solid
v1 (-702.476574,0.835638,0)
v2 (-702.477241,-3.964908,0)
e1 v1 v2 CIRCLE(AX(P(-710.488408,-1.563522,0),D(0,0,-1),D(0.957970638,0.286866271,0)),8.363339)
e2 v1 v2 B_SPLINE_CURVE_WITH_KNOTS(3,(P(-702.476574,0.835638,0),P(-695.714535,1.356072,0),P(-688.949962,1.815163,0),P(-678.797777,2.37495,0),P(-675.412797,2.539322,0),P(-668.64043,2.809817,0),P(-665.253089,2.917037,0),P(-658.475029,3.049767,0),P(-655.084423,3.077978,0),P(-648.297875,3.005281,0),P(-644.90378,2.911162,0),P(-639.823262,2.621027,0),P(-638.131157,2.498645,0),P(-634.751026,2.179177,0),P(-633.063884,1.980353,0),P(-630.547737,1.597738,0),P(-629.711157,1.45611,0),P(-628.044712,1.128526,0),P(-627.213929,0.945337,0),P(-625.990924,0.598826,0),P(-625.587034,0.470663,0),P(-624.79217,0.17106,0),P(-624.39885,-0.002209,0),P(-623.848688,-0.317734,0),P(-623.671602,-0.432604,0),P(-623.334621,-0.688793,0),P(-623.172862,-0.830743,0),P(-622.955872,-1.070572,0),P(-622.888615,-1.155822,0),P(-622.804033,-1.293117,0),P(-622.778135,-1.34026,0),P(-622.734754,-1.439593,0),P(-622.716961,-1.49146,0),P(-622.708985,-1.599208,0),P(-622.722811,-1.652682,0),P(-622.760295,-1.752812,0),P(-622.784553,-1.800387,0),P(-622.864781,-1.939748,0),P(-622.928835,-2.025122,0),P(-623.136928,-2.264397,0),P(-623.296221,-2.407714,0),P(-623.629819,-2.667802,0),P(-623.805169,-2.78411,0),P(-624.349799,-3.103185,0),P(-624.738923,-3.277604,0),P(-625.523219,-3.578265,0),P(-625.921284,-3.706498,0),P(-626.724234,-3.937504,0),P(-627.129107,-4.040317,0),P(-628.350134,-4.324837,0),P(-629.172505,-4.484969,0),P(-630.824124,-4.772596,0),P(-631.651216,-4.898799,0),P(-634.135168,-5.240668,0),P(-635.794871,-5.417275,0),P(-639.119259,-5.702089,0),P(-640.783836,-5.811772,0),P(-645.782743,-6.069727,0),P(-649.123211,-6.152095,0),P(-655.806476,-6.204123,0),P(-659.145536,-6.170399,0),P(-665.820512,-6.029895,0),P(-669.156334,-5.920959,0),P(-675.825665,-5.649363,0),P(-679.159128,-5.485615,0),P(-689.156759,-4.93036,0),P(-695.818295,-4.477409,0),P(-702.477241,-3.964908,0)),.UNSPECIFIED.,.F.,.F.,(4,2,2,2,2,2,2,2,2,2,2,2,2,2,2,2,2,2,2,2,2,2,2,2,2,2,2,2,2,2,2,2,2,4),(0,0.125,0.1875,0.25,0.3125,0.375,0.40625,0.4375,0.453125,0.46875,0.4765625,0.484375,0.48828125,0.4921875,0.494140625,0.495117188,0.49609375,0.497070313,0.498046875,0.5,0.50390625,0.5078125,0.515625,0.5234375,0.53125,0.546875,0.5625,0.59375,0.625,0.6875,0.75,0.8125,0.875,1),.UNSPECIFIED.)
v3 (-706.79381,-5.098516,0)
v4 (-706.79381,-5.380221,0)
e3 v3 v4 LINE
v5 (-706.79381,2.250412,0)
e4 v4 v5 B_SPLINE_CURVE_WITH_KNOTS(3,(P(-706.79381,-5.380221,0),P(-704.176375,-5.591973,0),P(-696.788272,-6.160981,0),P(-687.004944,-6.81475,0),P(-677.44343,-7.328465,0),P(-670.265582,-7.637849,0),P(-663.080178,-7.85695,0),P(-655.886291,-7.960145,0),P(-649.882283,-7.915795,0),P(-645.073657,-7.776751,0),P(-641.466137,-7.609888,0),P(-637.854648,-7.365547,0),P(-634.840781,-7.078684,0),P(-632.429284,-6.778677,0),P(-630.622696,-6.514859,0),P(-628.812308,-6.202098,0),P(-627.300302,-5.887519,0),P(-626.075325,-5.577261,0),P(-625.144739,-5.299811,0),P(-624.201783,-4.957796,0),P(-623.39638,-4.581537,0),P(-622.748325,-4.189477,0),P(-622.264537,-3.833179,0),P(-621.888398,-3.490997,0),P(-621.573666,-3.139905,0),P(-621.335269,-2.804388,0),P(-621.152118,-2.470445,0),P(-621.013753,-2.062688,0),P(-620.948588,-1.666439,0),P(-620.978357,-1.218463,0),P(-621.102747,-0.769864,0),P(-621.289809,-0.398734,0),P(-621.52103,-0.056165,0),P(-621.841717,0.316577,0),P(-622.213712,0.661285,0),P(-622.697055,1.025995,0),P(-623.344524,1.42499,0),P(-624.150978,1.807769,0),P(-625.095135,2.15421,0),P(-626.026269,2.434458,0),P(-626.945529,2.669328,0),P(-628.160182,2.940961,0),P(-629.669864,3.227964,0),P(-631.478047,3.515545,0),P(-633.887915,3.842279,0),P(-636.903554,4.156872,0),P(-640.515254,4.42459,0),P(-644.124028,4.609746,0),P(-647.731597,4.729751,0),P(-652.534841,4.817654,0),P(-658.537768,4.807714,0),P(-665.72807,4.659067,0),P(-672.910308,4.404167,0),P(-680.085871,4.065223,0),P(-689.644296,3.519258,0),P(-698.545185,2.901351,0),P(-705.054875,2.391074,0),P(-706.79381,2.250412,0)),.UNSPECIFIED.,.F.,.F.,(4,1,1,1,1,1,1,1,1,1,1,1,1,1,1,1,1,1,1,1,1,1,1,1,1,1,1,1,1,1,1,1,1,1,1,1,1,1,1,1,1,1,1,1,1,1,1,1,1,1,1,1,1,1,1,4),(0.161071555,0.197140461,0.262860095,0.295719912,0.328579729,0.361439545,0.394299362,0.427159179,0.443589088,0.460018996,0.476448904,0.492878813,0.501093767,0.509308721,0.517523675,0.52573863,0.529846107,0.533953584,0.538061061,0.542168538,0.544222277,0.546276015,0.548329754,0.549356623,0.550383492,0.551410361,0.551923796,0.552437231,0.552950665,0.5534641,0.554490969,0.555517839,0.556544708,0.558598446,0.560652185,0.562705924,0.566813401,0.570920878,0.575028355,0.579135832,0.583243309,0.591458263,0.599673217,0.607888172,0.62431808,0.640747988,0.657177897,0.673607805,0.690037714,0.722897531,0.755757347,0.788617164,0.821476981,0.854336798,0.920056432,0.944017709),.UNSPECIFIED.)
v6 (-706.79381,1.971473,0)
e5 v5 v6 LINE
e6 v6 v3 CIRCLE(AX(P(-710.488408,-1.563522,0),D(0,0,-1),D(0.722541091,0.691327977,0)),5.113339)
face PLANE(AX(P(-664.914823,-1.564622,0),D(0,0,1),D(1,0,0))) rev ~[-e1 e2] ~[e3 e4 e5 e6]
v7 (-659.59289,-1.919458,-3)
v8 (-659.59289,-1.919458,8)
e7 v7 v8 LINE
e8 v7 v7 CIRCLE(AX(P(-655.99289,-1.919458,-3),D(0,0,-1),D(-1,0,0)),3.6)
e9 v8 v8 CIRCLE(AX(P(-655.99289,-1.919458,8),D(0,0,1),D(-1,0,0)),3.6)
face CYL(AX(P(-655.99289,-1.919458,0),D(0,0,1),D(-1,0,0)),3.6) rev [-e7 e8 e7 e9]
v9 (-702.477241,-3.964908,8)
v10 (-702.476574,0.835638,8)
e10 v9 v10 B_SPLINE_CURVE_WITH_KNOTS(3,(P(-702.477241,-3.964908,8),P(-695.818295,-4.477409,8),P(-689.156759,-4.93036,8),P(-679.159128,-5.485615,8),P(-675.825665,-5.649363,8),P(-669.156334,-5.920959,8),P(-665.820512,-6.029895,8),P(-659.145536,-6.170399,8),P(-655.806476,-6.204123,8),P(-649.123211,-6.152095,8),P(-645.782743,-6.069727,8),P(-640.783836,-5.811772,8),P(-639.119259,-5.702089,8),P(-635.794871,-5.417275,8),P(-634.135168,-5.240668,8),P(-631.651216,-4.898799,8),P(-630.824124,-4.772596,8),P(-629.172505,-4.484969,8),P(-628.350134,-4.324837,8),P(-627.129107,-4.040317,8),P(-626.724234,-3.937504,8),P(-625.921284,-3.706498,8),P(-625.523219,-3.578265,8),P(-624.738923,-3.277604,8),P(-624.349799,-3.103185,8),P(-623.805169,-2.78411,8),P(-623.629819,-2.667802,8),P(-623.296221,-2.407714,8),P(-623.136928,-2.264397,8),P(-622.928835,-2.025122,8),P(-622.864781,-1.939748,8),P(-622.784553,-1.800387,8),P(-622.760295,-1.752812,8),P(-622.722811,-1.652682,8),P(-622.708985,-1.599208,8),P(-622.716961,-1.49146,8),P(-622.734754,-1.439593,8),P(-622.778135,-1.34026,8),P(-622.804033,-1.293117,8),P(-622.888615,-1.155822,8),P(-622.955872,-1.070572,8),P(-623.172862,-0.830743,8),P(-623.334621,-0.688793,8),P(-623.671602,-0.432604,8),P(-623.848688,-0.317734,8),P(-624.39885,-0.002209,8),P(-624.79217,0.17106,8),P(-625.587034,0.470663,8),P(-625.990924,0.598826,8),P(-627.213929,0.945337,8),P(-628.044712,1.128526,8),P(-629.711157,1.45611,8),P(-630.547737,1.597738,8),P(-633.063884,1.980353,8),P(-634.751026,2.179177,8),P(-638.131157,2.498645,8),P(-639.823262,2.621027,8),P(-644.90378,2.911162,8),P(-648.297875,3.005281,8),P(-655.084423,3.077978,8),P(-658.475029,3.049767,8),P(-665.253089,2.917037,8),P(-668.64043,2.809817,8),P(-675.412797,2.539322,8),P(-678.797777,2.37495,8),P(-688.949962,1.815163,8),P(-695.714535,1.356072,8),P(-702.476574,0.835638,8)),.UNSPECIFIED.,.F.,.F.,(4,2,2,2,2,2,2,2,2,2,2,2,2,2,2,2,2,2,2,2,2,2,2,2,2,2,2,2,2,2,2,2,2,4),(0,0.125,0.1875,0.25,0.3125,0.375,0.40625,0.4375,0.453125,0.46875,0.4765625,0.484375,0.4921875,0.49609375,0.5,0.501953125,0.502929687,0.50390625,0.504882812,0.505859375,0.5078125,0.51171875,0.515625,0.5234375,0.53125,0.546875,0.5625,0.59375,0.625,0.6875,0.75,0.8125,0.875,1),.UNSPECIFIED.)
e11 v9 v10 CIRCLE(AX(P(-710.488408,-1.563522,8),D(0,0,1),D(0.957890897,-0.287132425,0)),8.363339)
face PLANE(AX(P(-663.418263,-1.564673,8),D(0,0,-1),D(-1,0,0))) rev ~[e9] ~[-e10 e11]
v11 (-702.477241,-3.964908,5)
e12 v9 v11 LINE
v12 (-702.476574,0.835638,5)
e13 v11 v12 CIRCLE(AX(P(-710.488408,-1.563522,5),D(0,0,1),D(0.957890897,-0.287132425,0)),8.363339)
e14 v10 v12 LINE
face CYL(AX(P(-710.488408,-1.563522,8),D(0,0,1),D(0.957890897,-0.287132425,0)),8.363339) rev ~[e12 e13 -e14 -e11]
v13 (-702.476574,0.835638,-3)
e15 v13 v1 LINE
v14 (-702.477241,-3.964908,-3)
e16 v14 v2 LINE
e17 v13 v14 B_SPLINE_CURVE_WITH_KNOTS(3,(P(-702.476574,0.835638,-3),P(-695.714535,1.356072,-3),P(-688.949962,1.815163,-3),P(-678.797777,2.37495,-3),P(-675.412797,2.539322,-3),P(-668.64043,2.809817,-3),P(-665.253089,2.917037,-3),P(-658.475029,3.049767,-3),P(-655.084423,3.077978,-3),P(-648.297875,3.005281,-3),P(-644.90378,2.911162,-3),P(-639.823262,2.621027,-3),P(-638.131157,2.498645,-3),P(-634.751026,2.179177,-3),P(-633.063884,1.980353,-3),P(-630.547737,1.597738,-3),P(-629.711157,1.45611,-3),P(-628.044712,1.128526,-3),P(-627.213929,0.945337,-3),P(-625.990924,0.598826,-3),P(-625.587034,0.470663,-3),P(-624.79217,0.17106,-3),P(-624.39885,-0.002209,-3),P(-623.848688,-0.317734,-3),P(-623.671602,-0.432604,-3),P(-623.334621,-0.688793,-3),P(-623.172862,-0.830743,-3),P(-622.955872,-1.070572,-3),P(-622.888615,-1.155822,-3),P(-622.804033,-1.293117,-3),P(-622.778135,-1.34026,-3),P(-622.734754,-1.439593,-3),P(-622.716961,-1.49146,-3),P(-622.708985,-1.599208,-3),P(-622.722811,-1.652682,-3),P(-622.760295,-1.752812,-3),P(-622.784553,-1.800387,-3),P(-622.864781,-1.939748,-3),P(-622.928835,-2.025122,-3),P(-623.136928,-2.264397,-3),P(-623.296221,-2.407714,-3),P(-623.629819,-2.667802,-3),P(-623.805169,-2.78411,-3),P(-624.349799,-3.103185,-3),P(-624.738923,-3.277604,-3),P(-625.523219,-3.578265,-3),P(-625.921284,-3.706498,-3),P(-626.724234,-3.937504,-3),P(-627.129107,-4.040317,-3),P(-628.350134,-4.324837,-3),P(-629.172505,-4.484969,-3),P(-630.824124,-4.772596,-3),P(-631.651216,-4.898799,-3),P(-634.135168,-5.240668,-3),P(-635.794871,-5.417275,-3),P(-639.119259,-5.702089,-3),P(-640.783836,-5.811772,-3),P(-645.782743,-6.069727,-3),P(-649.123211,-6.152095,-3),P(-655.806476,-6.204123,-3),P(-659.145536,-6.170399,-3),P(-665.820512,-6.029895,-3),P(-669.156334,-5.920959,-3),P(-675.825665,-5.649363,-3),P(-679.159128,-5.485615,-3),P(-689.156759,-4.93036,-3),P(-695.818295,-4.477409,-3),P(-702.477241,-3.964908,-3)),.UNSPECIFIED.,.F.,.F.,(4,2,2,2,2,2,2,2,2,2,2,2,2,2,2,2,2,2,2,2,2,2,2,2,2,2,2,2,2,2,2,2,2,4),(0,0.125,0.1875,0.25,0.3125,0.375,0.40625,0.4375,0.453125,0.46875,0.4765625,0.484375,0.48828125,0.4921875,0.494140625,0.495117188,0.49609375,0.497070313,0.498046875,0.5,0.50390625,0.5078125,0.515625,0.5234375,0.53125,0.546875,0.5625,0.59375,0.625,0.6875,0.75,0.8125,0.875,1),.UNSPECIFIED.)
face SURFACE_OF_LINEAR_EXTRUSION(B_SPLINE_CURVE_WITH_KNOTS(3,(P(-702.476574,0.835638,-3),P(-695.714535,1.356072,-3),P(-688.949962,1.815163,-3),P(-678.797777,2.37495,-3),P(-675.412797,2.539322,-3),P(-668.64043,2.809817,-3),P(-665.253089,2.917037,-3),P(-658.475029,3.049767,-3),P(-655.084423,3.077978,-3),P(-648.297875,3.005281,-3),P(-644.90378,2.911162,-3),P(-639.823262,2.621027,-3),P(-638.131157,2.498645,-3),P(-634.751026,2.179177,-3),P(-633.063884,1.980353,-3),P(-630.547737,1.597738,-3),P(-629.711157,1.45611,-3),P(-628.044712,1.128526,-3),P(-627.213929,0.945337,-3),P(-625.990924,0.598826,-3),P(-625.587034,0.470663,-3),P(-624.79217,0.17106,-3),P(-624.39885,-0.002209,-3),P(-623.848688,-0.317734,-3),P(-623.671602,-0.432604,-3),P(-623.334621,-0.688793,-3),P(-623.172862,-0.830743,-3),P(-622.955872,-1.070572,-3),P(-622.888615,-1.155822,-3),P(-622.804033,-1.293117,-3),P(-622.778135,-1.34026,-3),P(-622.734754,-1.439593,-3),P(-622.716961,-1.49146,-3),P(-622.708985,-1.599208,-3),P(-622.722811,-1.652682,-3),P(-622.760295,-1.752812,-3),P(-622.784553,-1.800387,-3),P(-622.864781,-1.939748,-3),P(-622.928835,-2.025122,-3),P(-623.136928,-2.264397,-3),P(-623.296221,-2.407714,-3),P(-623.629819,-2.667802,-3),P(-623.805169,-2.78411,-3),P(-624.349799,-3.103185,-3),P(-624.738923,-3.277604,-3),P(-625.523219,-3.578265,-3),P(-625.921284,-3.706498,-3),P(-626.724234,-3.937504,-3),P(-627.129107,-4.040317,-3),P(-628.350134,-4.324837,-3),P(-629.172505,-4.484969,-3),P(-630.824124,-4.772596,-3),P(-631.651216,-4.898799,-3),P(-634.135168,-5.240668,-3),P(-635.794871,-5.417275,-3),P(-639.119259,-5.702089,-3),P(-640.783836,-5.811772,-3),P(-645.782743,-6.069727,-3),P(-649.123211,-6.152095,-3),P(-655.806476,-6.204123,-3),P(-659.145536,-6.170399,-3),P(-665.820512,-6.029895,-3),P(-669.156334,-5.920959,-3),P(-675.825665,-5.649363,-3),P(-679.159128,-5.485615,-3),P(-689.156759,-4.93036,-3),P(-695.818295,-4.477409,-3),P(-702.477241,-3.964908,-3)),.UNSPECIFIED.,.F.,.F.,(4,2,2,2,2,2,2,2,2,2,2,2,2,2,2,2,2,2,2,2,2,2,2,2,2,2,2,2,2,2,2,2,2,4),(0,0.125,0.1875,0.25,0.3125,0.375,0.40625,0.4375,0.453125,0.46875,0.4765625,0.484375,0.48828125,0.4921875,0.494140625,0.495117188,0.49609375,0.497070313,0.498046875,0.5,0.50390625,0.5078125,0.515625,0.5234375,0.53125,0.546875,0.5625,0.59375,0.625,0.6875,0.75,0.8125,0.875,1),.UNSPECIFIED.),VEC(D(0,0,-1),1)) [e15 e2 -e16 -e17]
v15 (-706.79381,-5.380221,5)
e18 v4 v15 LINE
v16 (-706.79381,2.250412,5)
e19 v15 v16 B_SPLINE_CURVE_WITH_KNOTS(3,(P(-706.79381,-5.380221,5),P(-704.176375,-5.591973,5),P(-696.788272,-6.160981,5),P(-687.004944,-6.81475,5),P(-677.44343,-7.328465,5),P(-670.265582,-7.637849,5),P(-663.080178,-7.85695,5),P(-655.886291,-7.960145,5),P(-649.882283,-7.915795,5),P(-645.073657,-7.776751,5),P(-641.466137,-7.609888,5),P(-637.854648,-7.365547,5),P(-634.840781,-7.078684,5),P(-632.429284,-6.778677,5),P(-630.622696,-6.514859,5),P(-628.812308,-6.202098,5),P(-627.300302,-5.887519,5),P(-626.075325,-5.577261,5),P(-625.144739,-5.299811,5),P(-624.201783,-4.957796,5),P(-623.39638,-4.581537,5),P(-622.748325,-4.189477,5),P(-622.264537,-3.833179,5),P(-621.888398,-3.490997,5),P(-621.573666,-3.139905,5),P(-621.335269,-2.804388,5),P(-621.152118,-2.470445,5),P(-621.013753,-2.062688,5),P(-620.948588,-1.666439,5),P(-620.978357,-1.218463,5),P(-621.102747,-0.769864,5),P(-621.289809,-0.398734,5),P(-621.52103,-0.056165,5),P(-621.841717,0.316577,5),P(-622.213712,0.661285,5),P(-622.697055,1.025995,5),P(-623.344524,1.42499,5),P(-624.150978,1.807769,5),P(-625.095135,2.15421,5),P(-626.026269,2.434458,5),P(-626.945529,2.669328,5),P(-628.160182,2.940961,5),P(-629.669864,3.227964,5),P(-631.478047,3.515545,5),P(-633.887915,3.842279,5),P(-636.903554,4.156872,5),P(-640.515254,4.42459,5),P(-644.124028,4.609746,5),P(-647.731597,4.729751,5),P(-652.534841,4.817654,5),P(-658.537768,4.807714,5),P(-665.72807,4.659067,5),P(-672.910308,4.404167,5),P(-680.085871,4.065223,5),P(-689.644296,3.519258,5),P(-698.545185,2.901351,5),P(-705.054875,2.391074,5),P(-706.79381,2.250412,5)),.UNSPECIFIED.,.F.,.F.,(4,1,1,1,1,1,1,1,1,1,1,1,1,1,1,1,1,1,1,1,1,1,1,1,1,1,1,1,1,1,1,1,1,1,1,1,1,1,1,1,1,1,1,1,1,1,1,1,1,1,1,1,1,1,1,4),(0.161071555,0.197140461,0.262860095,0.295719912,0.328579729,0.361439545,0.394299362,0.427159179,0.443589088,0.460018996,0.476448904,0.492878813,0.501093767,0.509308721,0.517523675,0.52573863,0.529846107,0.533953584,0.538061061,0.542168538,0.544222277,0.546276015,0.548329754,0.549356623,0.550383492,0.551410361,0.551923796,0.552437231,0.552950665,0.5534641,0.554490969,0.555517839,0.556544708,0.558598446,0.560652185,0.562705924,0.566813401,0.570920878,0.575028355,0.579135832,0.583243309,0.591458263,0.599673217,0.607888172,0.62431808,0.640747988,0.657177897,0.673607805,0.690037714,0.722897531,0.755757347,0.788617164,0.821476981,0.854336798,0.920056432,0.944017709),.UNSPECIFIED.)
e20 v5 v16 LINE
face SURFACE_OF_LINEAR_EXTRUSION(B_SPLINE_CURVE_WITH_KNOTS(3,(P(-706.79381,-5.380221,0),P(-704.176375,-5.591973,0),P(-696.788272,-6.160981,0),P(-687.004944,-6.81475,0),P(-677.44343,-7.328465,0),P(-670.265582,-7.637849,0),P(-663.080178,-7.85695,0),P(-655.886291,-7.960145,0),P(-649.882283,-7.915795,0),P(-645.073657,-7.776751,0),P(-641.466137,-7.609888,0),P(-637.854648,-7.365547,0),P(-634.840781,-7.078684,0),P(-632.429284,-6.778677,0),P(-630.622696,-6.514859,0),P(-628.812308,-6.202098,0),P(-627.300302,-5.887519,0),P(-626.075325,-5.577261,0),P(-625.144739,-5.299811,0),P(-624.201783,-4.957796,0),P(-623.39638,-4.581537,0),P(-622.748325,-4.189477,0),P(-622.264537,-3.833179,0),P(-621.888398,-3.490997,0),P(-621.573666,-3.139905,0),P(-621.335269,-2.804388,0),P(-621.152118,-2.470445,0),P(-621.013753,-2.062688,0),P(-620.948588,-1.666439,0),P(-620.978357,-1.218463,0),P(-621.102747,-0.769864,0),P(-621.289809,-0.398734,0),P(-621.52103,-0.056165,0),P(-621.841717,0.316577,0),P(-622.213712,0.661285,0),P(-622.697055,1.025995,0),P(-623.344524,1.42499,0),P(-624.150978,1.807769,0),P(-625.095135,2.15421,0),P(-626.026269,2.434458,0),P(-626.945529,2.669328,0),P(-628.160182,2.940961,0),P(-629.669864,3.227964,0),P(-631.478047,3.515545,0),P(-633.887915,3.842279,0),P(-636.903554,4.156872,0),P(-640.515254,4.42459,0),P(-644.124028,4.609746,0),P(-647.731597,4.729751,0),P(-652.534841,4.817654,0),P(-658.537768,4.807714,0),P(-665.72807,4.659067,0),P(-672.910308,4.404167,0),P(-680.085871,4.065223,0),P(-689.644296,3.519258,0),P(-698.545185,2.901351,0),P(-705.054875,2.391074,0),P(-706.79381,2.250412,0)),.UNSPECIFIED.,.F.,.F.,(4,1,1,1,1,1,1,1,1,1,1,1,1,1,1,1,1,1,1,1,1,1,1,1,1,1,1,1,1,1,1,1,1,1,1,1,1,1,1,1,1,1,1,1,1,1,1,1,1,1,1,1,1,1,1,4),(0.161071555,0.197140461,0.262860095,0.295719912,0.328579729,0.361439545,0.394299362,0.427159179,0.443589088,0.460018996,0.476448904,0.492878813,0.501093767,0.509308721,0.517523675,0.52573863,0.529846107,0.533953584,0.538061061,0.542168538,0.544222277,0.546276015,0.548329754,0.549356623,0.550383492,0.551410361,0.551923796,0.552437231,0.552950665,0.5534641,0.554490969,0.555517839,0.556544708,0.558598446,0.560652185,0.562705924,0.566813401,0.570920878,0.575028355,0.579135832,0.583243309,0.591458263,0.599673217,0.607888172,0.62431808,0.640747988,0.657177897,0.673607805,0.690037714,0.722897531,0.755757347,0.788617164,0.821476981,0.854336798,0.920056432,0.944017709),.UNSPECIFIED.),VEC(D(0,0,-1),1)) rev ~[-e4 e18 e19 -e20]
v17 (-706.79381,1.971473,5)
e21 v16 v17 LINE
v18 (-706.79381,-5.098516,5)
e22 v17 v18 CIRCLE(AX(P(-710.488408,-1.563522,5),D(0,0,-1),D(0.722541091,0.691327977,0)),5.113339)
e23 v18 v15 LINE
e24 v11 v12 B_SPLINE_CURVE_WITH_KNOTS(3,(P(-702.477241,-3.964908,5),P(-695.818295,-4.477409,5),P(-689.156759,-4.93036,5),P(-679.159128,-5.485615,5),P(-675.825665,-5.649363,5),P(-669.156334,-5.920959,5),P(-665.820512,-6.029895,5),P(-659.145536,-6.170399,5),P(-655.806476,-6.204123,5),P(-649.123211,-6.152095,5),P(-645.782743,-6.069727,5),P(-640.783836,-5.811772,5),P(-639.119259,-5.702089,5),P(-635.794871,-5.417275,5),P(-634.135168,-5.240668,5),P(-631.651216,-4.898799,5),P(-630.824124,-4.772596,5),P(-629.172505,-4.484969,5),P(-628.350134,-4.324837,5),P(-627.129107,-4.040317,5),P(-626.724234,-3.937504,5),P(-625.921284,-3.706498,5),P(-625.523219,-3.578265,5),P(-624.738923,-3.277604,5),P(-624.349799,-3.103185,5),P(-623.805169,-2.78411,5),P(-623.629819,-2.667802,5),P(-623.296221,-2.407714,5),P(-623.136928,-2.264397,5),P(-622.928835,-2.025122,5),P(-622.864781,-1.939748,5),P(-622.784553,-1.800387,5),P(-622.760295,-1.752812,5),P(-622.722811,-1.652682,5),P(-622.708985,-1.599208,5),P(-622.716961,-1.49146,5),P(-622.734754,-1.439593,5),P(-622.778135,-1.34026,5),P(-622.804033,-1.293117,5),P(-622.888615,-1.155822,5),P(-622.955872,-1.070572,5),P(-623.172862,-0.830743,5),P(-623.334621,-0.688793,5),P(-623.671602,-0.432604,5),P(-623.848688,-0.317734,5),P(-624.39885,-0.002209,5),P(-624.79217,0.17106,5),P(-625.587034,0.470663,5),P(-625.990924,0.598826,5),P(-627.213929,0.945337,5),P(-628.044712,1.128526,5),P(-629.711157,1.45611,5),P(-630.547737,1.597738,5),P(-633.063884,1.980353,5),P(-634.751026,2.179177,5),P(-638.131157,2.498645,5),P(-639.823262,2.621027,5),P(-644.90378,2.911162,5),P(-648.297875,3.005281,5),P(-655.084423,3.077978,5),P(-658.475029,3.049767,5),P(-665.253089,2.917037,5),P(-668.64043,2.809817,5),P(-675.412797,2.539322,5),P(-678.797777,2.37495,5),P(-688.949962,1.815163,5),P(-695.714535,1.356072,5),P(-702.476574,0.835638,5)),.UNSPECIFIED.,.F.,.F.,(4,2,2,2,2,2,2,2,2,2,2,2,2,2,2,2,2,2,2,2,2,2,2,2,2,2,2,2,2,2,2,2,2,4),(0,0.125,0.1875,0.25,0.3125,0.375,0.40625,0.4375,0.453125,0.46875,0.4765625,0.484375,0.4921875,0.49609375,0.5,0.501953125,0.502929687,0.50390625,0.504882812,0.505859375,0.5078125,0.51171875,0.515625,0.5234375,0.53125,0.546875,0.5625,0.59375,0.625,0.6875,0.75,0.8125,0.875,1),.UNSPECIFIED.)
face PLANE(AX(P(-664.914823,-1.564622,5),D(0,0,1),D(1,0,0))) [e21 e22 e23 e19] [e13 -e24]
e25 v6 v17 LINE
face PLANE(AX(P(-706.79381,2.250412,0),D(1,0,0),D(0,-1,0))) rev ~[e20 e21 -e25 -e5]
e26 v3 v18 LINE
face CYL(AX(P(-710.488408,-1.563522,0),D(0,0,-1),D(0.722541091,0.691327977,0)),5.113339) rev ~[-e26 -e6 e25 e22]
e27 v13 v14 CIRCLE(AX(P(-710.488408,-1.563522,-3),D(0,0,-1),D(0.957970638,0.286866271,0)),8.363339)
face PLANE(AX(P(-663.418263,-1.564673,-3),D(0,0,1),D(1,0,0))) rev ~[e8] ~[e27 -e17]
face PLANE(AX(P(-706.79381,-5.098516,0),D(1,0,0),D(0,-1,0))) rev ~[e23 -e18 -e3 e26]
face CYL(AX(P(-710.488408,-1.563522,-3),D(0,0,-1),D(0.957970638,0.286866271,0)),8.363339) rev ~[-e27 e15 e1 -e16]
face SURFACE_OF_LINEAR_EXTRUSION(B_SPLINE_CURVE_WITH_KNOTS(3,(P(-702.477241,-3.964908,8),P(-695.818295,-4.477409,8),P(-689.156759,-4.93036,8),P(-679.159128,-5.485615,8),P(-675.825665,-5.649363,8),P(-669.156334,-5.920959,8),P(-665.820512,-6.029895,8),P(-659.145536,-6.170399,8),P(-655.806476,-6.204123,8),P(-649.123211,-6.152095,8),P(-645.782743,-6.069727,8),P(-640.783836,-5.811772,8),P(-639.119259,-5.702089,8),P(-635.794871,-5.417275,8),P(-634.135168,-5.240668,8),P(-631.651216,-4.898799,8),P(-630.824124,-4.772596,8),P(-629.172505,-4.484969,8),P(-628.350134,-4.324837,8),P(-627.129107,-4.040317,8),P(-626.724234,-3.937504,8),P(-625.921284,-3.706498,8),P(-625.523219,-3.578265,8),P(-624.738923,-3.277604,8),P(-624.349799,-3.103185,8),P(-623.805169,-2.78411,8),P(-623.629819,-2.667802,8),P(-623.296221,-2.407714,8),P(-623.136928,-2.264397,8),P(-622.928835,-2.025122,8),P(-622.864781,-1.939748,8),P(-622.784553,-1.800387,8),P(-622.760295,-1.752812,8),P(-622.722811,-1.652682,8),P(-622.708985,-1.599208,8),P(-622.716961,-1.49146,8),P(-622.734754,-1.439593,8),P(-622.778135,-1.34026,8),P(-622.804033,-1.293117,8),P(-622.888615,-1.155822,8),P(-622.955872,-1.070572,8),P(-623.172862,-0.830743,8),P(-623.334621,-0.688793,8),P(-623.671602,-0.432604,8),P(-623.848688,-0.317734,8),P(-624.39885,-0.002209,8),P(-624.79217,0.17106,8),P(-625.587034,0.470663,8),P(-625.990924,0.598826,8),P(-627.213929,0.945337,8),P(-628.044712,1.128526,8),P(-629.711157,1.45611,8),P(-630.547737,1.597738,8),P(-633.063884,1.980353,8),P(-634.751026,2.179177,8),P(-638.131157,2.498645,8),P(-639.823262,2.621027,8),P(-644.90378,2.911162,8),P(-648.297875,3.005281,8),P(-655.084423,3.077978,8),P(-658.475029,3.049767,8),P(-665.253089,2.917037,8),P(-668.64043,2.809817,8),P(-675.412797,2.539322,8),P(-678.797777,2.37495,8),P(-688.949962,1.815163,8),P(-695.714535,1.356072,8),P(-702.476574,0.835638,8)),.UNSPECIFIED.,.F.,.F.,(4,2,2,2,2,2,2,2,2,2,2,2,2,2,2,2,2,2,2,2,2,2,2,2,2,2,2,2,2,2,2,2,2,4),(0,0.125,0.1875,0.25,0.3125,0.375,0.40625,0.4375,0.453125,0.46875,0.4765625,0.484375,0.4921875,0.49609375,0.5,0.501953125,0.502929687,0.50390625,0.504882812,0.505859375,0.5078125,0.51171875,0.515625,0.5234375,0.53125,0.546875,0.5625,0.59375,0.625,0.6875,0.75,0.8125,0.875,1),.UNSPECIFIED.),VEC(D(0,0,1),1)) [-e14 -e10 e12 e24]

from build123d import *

# Parameters (mm, degrees)
BOSS_EXTRUDE1_DEPTH = 5
SKETCH2_R           = 3.6
CUT_EXTRUDE1_DEPTH  = 5
SKETCH3_R           = 3.6
BOSS_EXTRUDE2_DEPTH = 3
SKETCH4_R           = 3.6
BOSS_EXTRUDE3_DEPTH = 3
CUT_EXTRUDE2_DEPTH  = 3
CUT_EXTRUDE3_DEPTH  = 3


with BuildPart() as part:
    # Sketch1 → Boss-Extrude1 (new body)
    with BuildSketch(Plane.XY):
        with BuildLine():
            Line((-706.793809994, 2.250411623), (-706.793809994, 1.97147251))
            ThreePointArc((-706.793809994, 1.97147251), (-705.375068537, -1.563521785), (-706.793809994, -5.098516081))
            Line((-706.793809994, -5.098516081), (-706.793809994, -5.380220718))
            add(Edge.make_bspline(
                [(-706.793809994, -5.380220718), (-704.176375439, -5.591973248), (-696.788271806, -6.160981291), (-687.004943636, -6.814750309), (-677.443429578, -7.328465039), (-670.265581518, -7.637849476), (-663.080178273, -7.856949826), (-655.886290791, -7.960144603), (-649.882283211, -7.915795095), (-645.073657094, -7.776750842), (-641.466136989, -7.609887873), (-637.854648483, -7.365546758), (-634.840780847, -7.078684435), (-632.429284229, -6.778677485), (-630.622695626, -6.514858819), (-628.812307662, -6.202098358), (-627.300302349, -5.887519285), (-626.075324578, -5.577261081), (-625.144738566, -5.299811117), (-624.201783041, -4.957795864), (-623.396379776, -4.581537473), (-622.748324583, -4.189477017), (-622.264536531, -3.833178944), (-621.888398496, -3.490996777), (-621.573666417, -3.139905403), (-621.335269439, -2.804387975), (-621.152117781, -2.470444907), (-621.013752956, -2.062687894), (-620.948588409, -1.666438774), (-620.978356512, -1.21846251), (-621.102747046, -0.769863534), (-621.289809051, -0.398734203), (-621.521029667, -0.056164767), (-621.841717048, 0.316577074), (-622.213712109, 0.661285055), (-622.697054763, 1.025995289), (-623.34452358, 1.42498987), (-624.150977835, 1.807769279), (-625.095134852, 2.154209602), (-626.026268782, 2.434457764), (-626.945529144, 2.669327648), (-628.160182101, 2.940961031), (-629.669864195, 3.22796374), (-631.478046966, 3.515544636), (-633.887915069, 3.842279402), (-636.903553501, 4.156872173), (-640.515254098, 4.42458971), (-644.124028039, 4.609745533), (-647.73159652, 4.729751391), (-652.534840565, 4.817654121), (-658.5377679, 4.807713582), (-665.728070005, 4.659067049), (-672.910308043, 4.404167014), (-680.085871056, 4.065223292), (-689.644295843, 3.519258278), (-698.545185009, 2.901350773), (-705.054875216, 2.391074048), (-706.793809994, 2.250411623)],
                knots=[0.161071555, 0.161071555, 0.161071555, 0.161071555, 0.197140461, 0.262860095, 0.295719912, 0.328579729, 0.361439545, 0.394299362, 0.427159179, 0.443589088, 0.460018996, 0.476448904, 0.492878813, 0.501093767, 0.509308721, 0.517523675, 0.52573863, 0.529846107, 0.533953584, 0.538061061, 0.542168538, 0.544222277, 0.546276015, 0.548329754, 0.549356623, 0.550383492, 0.551410361, 0.551923796, 0.552437231, 0.552950665, 0.5534641, 0.554490969, 0.555517839, 0.556544708, 0.558598446, 0.560652185, 0.562705924, 0.566813401, 0.570920878, 0.575028355, 0.579135832, 0.583243309, 0.591458263, 0.599673217, 0.607888172, 0.62431808, 0.640747988, 0.657177897, 0.673607805, 0.690037714, 0.722897531, 0.755757347, 0.788617164, 0.821476981, 0.854336798, 0.920056432, 0.944017709, 0.944017709, 0.944017709, 0.944017709], degree=3))
        make_face()
    extrude(amount=BOSS_EXTRUDE1_DEPTH)

    # Sketch2 → Cut-Extrude1 (cut)
    with BuildSketch(Plane(origin=(0, 0, 0), x_dir=(-1, 0, 0), z_dir=(0, 0, -1))):
        with Locations((655.992889877, -1.919458309)):
            Circle(SKETCH2_R)
    extrude(amount=-CUT_EXTRUDE1_DEPTH, mode=Mode.SUBTRACT)

    # Sketch3 → Boss-Extrude2 (add)
    with BuildSketch(Plane.XY.offset(5)):
        with BuildLine():
            ThreePointArc((-702.8119034, -4.189841251), (-702.375068622, -1.564694249), (-702.811144658, 1.060578898))
            add(Edge.make_bspline(
                [(-702.8119034, -4.189841251), (-700.917313824, -4.336241444), (-696.793783217, -4.643411612), (-690.360255168, -5.085057096), (-683.472099639, -5.505971596), (-676.464013183, -5.873438985), (-669.455701438, -6.165615313), (-663.668912094, -6.334400701), (-659.129505656, -6.411939523), (-655.827098123, -6.439457694), (-652.612824651, -6.435613741), (-649.500432858, -6.394237419), (-646.503492978, -6.321608231), (-643.635086194, -6.211922431), (-640.907267874, -6.069173931), (-638.331358127, -5.890035138), (-635.918279427, -5.677537233), (-633.679144814, -5.429819661), (-631.623287424, -5.151604924), (-629.758745754, -4.850065184), (-628.093285087, -4.52655103), (-626.632315737, -4.182183625), (-625.382756266, -3.805365702), (-624.347318876, -3.389117853), (-623.535477719, -2.929845627), (-622.951664887, -2.450264066), (-622.587069704, -2.010708523), (-622.411159705, -1.564660699), (-622.587069704, -1.118612875), (-622.951664887, -0.679057332), (-623.535477719, -0.199475771), (-624.347318876, 0.259796455), (-625.382756266, 0.676044303), (-626.632315737, 1.052862227), (-628.093285087, 1.397229632), (-629.758745754, 1.720743786), (-631.623287424, 2.022283526), (-633.679144814, 2.300498263), (-635.918279427, 2.548215835), (-638.331358127, 2.76071374), (-640.907267874, 2.939852533), (-643.635086194, 3.082601032), (-646.503492978, 3.192286833), (-649.500432858, 3.264916021), (-652.612824651, 3.306292343), (-655.827098123, 3.310136295), (-659.129505656, 3.282618125), (-663.668912094, 3.205079304), (-669.455701437, 3.03629391), (-676.464013186, 2.744117603), (-683.472099631, 2.376650136), (-690.360255198, 1.955735922), (-696.793530026, 1.514106834), (-700.916808032, 1.20695911), (-702.811144658, 1.060578898)],
                knots=[0.127353429, 0.127353429, 0.127353429, 0.127353429, 0.153490017, 0.184226953, 0.216050302, 0.248408155, 0.280749827, 0.312527151, 0.328032777, 0.343195028, 0.357950764, 0.37224227, 0.386006959, 0.3991829, 0.411723018, 0.423576276, 0.434696708, 0.445039635, 0.454559181, 0.463228705, 0.471014913, 0.477890529, 0.483865645, 0.488951694, 0.493207386, 0.496651844, 0.499261497, 0.501068994, 0.502876492, 0.505486145, 0.508930603, 0.513186294, 0.518272343, 0.524247459, 0.531123075, 0.538909284, 0.547578808, 0.557098354, 0.56744128, 0.578561712, 0.59041497, 0.602955088, 0.61613103, 0.629895718, 0.644187224, 0.658942961, 0.674105212, 0.689610838, 0.721388161, 0.753729833, 0.786087687, 0.817911036, 0.848647972, 0.874781071, 0.874781071, 0.874781071, 0.874781071], degree=3))
        make_face()
        with Locations(Location((-655.992889877, -1.919458309, 0), (0, 0, 180))):
            Circle(SKETCH3_R, mode=Mode.SUBTRACT)
    extrude(amount=BOSS_EXTRUDE2_DEPTH)

    # Sketch4 → Boss-Extrude3 (add)
    with BuildSketch(Plane(origin=(0, 0, 0), x_dir=(-1, 0, 0), z_dir=(0, 0, -1))):
        with BuildLine():
            ThreePointArc((702.811144658, 1.060578898), (702.375068622, -1.564694249), (702.8119034, -4.189841251))
            add(Edge.make_bspline(
                [(702.811144658, 1.060578898), (700.916808032, 1.20695911), (696.793530026, 1.514106834), (690.360255198, 1.955735922), (683.472099631, 2.376650136), (676.464013186, 2.744117603), (669.455701437, 3.03629391), (663.668912094, 3.205079304), (659.129505656, 3.282618125), (655.827098123, 3.310136295), (652.612824651, 3.306292343), (649.500432858, 3.264916021), (646.503492978, 3.192286833), (643.635086194, 3.082601032), (640.907267874, 2.939852533), (638.331358127, 2.76071374), (635.918279427, 2.548215835), (633.679144814, 2.300498263), (631.623287424, 2.022283526), (629.758745754, 1.720743786), (628.093285087, 1.397229632), (626.632315737, 1.052862227), (625.382756266, 0.676044303), (624.347318876, 0.259796455), (623.535477719, -0.199475771), (622.951664887, -0.679057332), (622.587069704, -1.118612875), (622.411159705, -1.564660699), (622.587069704, -2.010708523), (622.951664887, -2.450264066), (623.535477719, -2.929845627), (624.347318876, -3.389117853), (625.382756266, -3.805365702), (626.632315737, -4.182183625), (628.093285087, -4.52655103), (629.758745754, -4.850065184), (631.623287424, -5.151604924), (633.679144814, -5.429819661), (635.918279427, -5.677537233), (638.331358127, -5.890035138), (640.907267874, -6.069173931), (643.635086194, -6.211922431), (646.503492978, -6.321608231), (649.500432858, -6.394237419), (652.612824651, -6.435613741), (655.827098123, -6.439457694), (659.129505656, -6.411939523), (663.668912094, -6.334400701), (669.455701438, -6.165615313), (676.464013183, -5.873438985), (683.472099639, -5.505971596), (690.360255168, -5.085057096), (696.793783217, -4.643411612), (700.917313824, -4.336241444), (702.8119034, -4.189841251)],
                knots=[0.127353429, 0.127353429, 0.127353429, 0.127353429, 0.153486527, 0.184223463, 0.216046813, 0.248404666, 0.280746338, 0.312523662, 0.328029288, 0.343191539, 0.357947275, 0.372238781, 0.38600347, 0.399179411, 0.411719529, 0.423572787, 0.434693219, 0.445036146, 0.454555692, 0.463225215, 0.471011424, 0.47788704, 0.483862156, 0.488948205, 0.493203896, 0.496648355, 0.499258008, 0.501065505, 0.502873002, 0.505482655, 0.508927114, 0.513182805, 0.518268854, 0.52424397, 0.531119586, 0.538905795, 0.547575319, 0.557094864, 0.567437791, 0.578558223, 0.590411481, 0.602951599, 0.616127541, 0.629892229, 0.644183735, 0.658939472, 0.674101723, 0.689607348, 0.721384672, 0.753726344, 0.786084197, 0.817907547, 0.848644483, 0.874781071, 0.874781071, 0.874781071, 0.874781071], degree=3))
        make_face()
        with Locations((655.992889877, -1.919458309)):
            Circle(SKETCH4_R, mode=Mode.SUBTRACT)
    extrude(amount=BOSS_EXTRUDE3_DEPTH)

    # Sketch5 → Cut-Extrude2 (cut)
    with BuildSketch(Plane(origin=(0, 0, -3), x_dir=(-1, 0, 0), z_dir=(0, 0, -1))):
        with BuildLine():
            Line((706.793809994, -5.380220718), (706.793809994, -5.098516081))
            ThreePointArc((706.793809994, -5.098516081), (705.375068537, -1.563521785), (706.793809994, 1.97147251))
            Line((706.793809994, 1.97147251), (706.793809994, 2.250411623))
            add(Edge.make_bspline(
                [(706.793809994, 2.250411623), (705.054875216, 2.391074048), (698.545185009, 2.901350773), (689.644295843, 3.519258278), (680.085871056, 4.065223292), (672.910308043, 4.404167014), (665.728070005, 4.659067049), (658.5377679, 4.807713582), (652.534840565, 4.817654121), (647.73159652, 4.729751391), (644.124028039, 4.609745533), (640.515254098, 4.42458971), (636.903553501, 4.156872173), (633.887915069, 3.842279402), (631.478046966, 3.515544636), (629.669864195, 3.22796374), (628.160182101, 2.940961031), (626.945529144, 2.669327648), (626.026268782, 2.434457764), (625.095134852, 2.154209602), (624.150977835, 1.807769279), (623.34452358, 1.42498987), (622.697054763, 1.025995289), (622.213712109, 0.661285055), (621.841717048, 0.316577074), (621.521029667, -0.056164767), (621.289809051, -0.398734203), (621.102747046, -0.769863534), (620.978356512, -1.21846251), (620.948588409, -1.666438774), (621.013752956, -2.062687894), (621.152117781, -2.470444907), (621.335269439, -2.804387975), (621.573666417, -3.139905403), (621.888398496, -3.490996777), (622.264536531, -3.833178944), (622.748324583, -4.189477017), (623.396379776, -4.581537473), (624.201783041, -4.957795864), (625.144738566, -5.299811117), (626.075324578, -5.577261081), (627.300302349, -5.887519285), (628.812307662, -6.202098358), (630.622695626, -6.514858819), (632.429284229, -6.778677485), (634.840780847, -7.078684435), (637.854648483, -7.365546758), (641.466136989, -7.609887873), (645.073657094, -7.776750842), (649.882283211, -7.915795095), (655.886290791, -7.960144603), (663.080178273, -7.856949826), (670.265581518, -7.637849476), (677.443429578, -7.328465039), (687.004943636, -6.814750309), (696.788271806, -6.160981291), (704.176375439, -5.591973248), (706.793809994, -5.380220718)],
                knots=[0.161071555, 0.161071555, 0.161071555, 0.161071555, 0.185032833, 0.250752466, 0.283612283, 0.3164721, 0.349331917, 0.382191734, 0.415051551, 0.431481459, 0.447911367, 0.464341276, 0.480771184, 0.497201093, 0.505416047, 0.513631001, 0.521845955, 0.525953432, 0.530060909, 0.534168387, 0.538275864, 0.542383341, 0.544437079, 0.546490818, 0.548544556, 0.549571426, 0.550598295, 0.551625164, 0.552138599, 0.552652033, 0.553165468, 0.553678903, 0.554705772, 0.555732641, 0.556759511, 0.558813249, 0.560866988, 0.562920726, 0.567028203, 0.57113568, 0.575243158, 0.579350635, 0.587565589, 0.595780543, 0.603995497, 0.612210451, 0.62864036, 0.645070268, 0.661500177, 0.677930085, 0.710789902, 0.743649719, 0.776509536, 0.809369352, 0.842229169, 0.907948803, 0.944017709, 0.944017709, 0.944017709, 0.944017709], degree=3))
        make_face()
        with BuildLine():
            ThreePointArc((702.476574341, 0.835638079), (702.125068618, -1.564683634), (702.477241241, -3.96490759))
            add(Edge.make_bspline(
                [(702.476574341, 0.835638079), (695.714535449, 1.356072094), (688.949961769, 1.815163268), (678.79777695, 2.374949995), (675.412797043, 2.539322357), (668.640430249, 2.809817236), (665.253088699, 2.917036954), (658.475029247, 3.049767371), (655.084422916, 3.077978134), (648.297874843, 3.005280729), (644.903780303, 2.911161539), (639.823261567, 2.621026958), (638.131156929, 2.498644663), (634.751026413, 2.179176654), (633.063883995, 1.980352596), (630.54773716, 1.597738211), (629.711156544, 1.456110292), (628.04471228, 1.12852618), (627.213928507, 0.945337391), (625.990923587, 0.598825966), (625.587033549, 0.470662913), (624.792169879, 0.171059849), (624.398849623, -0.002208811), (623.84868765, -0.317733693), (623.671601998, -0.432604061), (623.334620991, -0.688792854), (623.172862077, -0.830743248), (622.955872398, -1.07057219), (622.88861472, -1.155822239), (622.80403255, -1.293117197), (622.778134602, -1.34025964), (622.734754325, -1.439593137), (622.716961027, -1.491460275), (622.708984643, -1.599207916), (622.722811035, -1.652681606), (622.760295399, -1.752812358), (622.784553347, -1.800387473), (622.864781012, -1.939747562), (622.928834512, -2.025122122), (623.136927835, -2.264396885), (623.296221065, -2.407714337), (623.629819046, -2.667802161), (623.805168654, -2.784110208), (624.349798724, -3.103185114), (624.738923374, -3.277604015), (625.523218508, -3.578264794), (625.921283941, -3.706498383), (626.724233873, -3.937503764), (627.129107318, -4.04031683), (628.350133671, -4.32483651), (629.17250484, -4.484968507), (630.824124238, -4.772595978), (631.651216318, -4.898798597), (634.135167715, -5.240668183), (635.794871243, -5.417275198), (639.119258997, -5.702088646), (640.783835708, -5.811771573), (645.782742589, -6.069727403), (649.123210603, -6.152095498), (655.806475634, -6.204123024), (659.145536164, -6.170399485), (665.820511732, -6.029894773), (669.156334021, -5.920959387), (675.82566545, -5.649363056), (679.159127776, -5.485614816), (689.156758801, -4.930359952), (695.818294647, -4.47740886), (702.477241241, -3.96490759)],
                knots=[0, 0, 0, 0, 0.125, 0.125, 0.1875, 0.1875, 0.25, 0.25, 0.3125, 0.3125, 0.375, 0.375, 0.40625, 0.40625, 0.4375, 0.4375, 0.453125, 0.453125, 0.46875, 0.46875, 0.4765625, 0.4765625, 0.484375, 0.484375, 0.48828125, 0.48828125, 0.4921875, 0.4921875, 0.494140625, 0.494140625, 0.495117188, 0.495117188, 0.49609375, 0.49609375, 0.497070313, 0.497070313, 0.498046875, 0.498046875, 0.5, 0.5, 0.50390625, 0.50390625, 0.5078125, 0.5078125, 0.515625, 0.515625, 0.5234375, 0.5234375, 0.53125, 0.53125, 0.546875, 0.546875, 0.5625, 0.5625, 0.59375, 0.59375, 0.625, 0.625, 0.6875, 0.6875, 0.75, 0.75, 0.8125, 0.8125, 0.875, 0.875, 1, 1, 1, 1], degree=3))
        make_face(mode=Mode.SUBTRACT)
    extrude(amount=-CUT_EXTRUDE2_DEPTH, mode=Mode.SUBTRACT)

    # Sketch6 → Cut-Extrude3 (cut)
    with BuildSketch(Plane.XY.offset(8)):
        with BuildLine():
            Line((-706.793809994, -5.098516081), (-706.793809994, -5.380220718))
            add(Edge.make_bspline(
                [(-706.793809994, -5.380220718), (-704.176375439, -5.591973248), (-696.788271806, -6.160981291), (-687.004943636, -6.814750309), (-677.443429578, -7.328465039), (-670.265581518, -7.637849476), (-663.080178273, -7.856949826), (-655.886290791, -7.960144603), (-649.882283211, -7.915795095), (-645.073657094, -7.776750842), (-641.466136989, -7.609887873), (-637.854648483, -7.365546758), (-634.840780847, -7.078684435), (-632.429284229, -6.778677485), (-630.622695626, -6.514858819), (-628.812307662, -6.202098358), (-627.300302349, -5.887519285), (-626.075324578, -5.577261081), (-625.144738566, -5.299811117), (-624.201783041, -4.957795864), (-623.396379776, -4.581537473), (-622.748324583, -4.189477017), (-622.264536531, -3.833178944), (-621.888398496, -3.490996777), (-621.573666417, -3.139905403), (-621.335269439, -2.804387975), (-621.152117781, -2.470444907), (-621.013752956, -2.062687894), (-620.948588409, -1.666438774), (-620.978356512, -1.21846251), (-621.102747046, -0.769863534), (-621.289809051, -0.398734203), (-621.521029667, -0.056164767), (-621.841717048, 0.316577074), (-622.213712109, 0.661285055), (-622.697054763, 1.025995289), (-623.34452358, 1.42498987), (-624.150977835, 1.807769279), (-625.095134852, 2.154209602), (-626.026268782, 2.434457764), (-626.945529144, 2.669327648), (-628.160182101, 2.940961031), (-629.669864195, 3.22796374), (-631.478046966, 3.515544636), (-633.887915069, 3.842279402), (-636.903553501, 4.156872173), (-640.515254098, 4.42458971), (-644.124028039, 4.609745533), (-647.73159652, 4.729751391), (-652.534840565, 4.817654121), (-658.5377679, 4.807713582), (-665.728070005, 4.659067049), (-672.910308043, 4.404167014), (-680.085871056, 4.065223292), (-689.644295843, 3.519258278), (-698.545185009, 2.901350773), (-705.054875216, 2.391074048), (-706.793809994, 2.250411623)],
                knots=[0.161071555, 0.161071555, 0.161071555, 0.161071555, 0.197140461, 0.262860095, 0.295719912, 0.328579729, 0.361439545, 0.394299362, 0.427159179, 0.443589088, 0.460018996, 0.476448904, 0.492878813, 0.501093767, 0.509308721, 0.517523675, 0.52573863, 0.529846107, 0.533953584, 0.538061061, 0.542168538, 0.544222277, 0.546276015, 0.548329754, 0.549356623, 0.550383492, 0.551410361, 0.551923796, 0.552437231, 0.552950665, 0.5534641, 0.554490969, 0.555517839, 0.556544708, 0.558598446, 0.560652185, 0.562705924, 0.566813401, 0.570920878, 0.575028355, 0.579135832, 0.583243309, 0.591458263, 0.599673217, 0.607888172, 0.62431808, 0.640747988, 0.657177897, 0.673607805, 0.690037714, 0.722897531, 0.755757347, 0.788617164, 0.821476981, 0.854336798, 0.920056432, 0.944017709, 0.944017709, 0.944017709, 0.944017709], degree=3))
            Line((-706.793809994, 2.250411623), (-706.793809994, 1.97147251))
            ThreePointArc((-706.793809994, 1.97147251), (-705.375068537, -1.563521785), (-706.793809994, -5.098516081))
        make_face()
        with BuildLine():
            ThreePointArc((-702.477241241, -3.96490759), (-702.125068618, -1.564683634), (-702.476574341, 0.835638079))
            add(Edge.make_bspline(
                [(-702.477241241, -3.96490759), (-695.818294647, -4.47740886), (-689.156758801, -4.930359952), (-679.159127776, -5.485614816), (-675.82566545, -5.649363056), (-669.156334021, -5.920959387), (-665.820511732, -6.029894773), (-659.145536164, -6.170399485), (-655.806475634, -6.204123024), (-649.123210603, -6.152095498), (-645.782742589, -6.069727403), (-640.783835708, -5.811771573), (-639.119258997, -5.702088646), (-635.794871243, -5.417275198), (-634.135167715, -5.240668183), (-631.651216318, -4.898798597), (-630.824124238, -4.772595978), (-629.17250484, -4.484968507), (-628.350133671, -4.32483651), (-627.129107318, -4.04031683), (-626.724233873, -3.937503764), (-625.921283941, -3.706498383), (-625.523218508, -3.578264794), (-624.738923374, -3.277604015), (-624.349798724, -3.103185114), (-623.805168654, -2.784110208), (-623.629819046, -2.667802161), (-623.296221065, -2.407714337), (-623.136927835, -2.264396885), (-622.928834512, -2.025122122), (-622.864781012, -1.939747562), (-622.784553347, -1.800387473), (-622.760295399, -1.752812358), (-622.722811035, -1.652681606), (-622.708984643, -1.599207916), (-622.716961027, -1.491460275), (-622.734754325, -1.439593137), (-622.778134602, -1.34025964), (-622.80403255, -1.293117197), (-622.88861472, -1.155822239), (-622.955872398, -1.07057219), (-623.172862077, -0.830743248), (-623.334620991, -0.688792854), (-623.671601998, -0.432604061), (-623.84868765, -0.317733693), (-624.398849623, -0.002208811), (-624.792169879, 0.171059849), (-625.587033549, 0.470662913), (-625.990923587, 0.598825966), (-627.213928507, 0.945337391), (-628.04471228, 1.12852618), (-629.711156544, 1.456110292), (-630.54773716, 1.597738211), (-633.063883995, 1.980352596), (-634.751026413, 2.179176654), (-638.131156929, 2.498644663), (-639.823261567, 2.621026958), (-644.903780303, 2.911161539), (-648.297874843, 3.005280729), (-655.084422916, 3.077978134), (-658.475029247, 3.049767371), (-665.253088699, 2.917036954), (-668.640430249, 2.809817236), (-675.412797043, 2.539322357), (-678.79777695, 2.374949995), (-688.949961769, 1.815163268), (-695.714535449, 1.356072094), (-702.476574341, 0.835638079)],
                knots=[0, 0, 0, 0, 0.125, 0.125, 0.1875, 0.1875, 0.25, 0.25, 0.3125, 0.3125, 0.375, 0.375, 0.40625, 0.40625, 0.4375, 0.4375, 0.453125, 0.453125, 0.46875, 0.46875, 0.4765625, 0.4765625, 0.484375, 0.484375, 0.4921875, 0.4921875, 0.49609375, 0.49609375, 0.5, 0.5, 0.501953125, 0.501953125, 0.502929687, 0.502929687, 0.50390625, 0.50390625, 0.504882812, 0.504882812, 0.505859375, 0.505859375, 0.5078125, 0.5078125, 0.51171875, 0.51171875, 0.515625, 0.515625, 0.5234375, 0.5234375, 0.53125, 0.53125, 0.546875, 0.546875, 0.5625, 0.5625, 0.59375, 0.59375, 0.625, 0.625, 0.6875, 0.6875, 0.75, 0.75, 0.8125, 0.8125, 0.875, 0.875, 1, 1, 1, 1], degree=3))
        make_face(mode=Mode.SUBTRACT)
    extrude(amount=-CUT_EXTRUDE3_DEPTH, mode=Mode.SUBTRACT)


solid = part.part
